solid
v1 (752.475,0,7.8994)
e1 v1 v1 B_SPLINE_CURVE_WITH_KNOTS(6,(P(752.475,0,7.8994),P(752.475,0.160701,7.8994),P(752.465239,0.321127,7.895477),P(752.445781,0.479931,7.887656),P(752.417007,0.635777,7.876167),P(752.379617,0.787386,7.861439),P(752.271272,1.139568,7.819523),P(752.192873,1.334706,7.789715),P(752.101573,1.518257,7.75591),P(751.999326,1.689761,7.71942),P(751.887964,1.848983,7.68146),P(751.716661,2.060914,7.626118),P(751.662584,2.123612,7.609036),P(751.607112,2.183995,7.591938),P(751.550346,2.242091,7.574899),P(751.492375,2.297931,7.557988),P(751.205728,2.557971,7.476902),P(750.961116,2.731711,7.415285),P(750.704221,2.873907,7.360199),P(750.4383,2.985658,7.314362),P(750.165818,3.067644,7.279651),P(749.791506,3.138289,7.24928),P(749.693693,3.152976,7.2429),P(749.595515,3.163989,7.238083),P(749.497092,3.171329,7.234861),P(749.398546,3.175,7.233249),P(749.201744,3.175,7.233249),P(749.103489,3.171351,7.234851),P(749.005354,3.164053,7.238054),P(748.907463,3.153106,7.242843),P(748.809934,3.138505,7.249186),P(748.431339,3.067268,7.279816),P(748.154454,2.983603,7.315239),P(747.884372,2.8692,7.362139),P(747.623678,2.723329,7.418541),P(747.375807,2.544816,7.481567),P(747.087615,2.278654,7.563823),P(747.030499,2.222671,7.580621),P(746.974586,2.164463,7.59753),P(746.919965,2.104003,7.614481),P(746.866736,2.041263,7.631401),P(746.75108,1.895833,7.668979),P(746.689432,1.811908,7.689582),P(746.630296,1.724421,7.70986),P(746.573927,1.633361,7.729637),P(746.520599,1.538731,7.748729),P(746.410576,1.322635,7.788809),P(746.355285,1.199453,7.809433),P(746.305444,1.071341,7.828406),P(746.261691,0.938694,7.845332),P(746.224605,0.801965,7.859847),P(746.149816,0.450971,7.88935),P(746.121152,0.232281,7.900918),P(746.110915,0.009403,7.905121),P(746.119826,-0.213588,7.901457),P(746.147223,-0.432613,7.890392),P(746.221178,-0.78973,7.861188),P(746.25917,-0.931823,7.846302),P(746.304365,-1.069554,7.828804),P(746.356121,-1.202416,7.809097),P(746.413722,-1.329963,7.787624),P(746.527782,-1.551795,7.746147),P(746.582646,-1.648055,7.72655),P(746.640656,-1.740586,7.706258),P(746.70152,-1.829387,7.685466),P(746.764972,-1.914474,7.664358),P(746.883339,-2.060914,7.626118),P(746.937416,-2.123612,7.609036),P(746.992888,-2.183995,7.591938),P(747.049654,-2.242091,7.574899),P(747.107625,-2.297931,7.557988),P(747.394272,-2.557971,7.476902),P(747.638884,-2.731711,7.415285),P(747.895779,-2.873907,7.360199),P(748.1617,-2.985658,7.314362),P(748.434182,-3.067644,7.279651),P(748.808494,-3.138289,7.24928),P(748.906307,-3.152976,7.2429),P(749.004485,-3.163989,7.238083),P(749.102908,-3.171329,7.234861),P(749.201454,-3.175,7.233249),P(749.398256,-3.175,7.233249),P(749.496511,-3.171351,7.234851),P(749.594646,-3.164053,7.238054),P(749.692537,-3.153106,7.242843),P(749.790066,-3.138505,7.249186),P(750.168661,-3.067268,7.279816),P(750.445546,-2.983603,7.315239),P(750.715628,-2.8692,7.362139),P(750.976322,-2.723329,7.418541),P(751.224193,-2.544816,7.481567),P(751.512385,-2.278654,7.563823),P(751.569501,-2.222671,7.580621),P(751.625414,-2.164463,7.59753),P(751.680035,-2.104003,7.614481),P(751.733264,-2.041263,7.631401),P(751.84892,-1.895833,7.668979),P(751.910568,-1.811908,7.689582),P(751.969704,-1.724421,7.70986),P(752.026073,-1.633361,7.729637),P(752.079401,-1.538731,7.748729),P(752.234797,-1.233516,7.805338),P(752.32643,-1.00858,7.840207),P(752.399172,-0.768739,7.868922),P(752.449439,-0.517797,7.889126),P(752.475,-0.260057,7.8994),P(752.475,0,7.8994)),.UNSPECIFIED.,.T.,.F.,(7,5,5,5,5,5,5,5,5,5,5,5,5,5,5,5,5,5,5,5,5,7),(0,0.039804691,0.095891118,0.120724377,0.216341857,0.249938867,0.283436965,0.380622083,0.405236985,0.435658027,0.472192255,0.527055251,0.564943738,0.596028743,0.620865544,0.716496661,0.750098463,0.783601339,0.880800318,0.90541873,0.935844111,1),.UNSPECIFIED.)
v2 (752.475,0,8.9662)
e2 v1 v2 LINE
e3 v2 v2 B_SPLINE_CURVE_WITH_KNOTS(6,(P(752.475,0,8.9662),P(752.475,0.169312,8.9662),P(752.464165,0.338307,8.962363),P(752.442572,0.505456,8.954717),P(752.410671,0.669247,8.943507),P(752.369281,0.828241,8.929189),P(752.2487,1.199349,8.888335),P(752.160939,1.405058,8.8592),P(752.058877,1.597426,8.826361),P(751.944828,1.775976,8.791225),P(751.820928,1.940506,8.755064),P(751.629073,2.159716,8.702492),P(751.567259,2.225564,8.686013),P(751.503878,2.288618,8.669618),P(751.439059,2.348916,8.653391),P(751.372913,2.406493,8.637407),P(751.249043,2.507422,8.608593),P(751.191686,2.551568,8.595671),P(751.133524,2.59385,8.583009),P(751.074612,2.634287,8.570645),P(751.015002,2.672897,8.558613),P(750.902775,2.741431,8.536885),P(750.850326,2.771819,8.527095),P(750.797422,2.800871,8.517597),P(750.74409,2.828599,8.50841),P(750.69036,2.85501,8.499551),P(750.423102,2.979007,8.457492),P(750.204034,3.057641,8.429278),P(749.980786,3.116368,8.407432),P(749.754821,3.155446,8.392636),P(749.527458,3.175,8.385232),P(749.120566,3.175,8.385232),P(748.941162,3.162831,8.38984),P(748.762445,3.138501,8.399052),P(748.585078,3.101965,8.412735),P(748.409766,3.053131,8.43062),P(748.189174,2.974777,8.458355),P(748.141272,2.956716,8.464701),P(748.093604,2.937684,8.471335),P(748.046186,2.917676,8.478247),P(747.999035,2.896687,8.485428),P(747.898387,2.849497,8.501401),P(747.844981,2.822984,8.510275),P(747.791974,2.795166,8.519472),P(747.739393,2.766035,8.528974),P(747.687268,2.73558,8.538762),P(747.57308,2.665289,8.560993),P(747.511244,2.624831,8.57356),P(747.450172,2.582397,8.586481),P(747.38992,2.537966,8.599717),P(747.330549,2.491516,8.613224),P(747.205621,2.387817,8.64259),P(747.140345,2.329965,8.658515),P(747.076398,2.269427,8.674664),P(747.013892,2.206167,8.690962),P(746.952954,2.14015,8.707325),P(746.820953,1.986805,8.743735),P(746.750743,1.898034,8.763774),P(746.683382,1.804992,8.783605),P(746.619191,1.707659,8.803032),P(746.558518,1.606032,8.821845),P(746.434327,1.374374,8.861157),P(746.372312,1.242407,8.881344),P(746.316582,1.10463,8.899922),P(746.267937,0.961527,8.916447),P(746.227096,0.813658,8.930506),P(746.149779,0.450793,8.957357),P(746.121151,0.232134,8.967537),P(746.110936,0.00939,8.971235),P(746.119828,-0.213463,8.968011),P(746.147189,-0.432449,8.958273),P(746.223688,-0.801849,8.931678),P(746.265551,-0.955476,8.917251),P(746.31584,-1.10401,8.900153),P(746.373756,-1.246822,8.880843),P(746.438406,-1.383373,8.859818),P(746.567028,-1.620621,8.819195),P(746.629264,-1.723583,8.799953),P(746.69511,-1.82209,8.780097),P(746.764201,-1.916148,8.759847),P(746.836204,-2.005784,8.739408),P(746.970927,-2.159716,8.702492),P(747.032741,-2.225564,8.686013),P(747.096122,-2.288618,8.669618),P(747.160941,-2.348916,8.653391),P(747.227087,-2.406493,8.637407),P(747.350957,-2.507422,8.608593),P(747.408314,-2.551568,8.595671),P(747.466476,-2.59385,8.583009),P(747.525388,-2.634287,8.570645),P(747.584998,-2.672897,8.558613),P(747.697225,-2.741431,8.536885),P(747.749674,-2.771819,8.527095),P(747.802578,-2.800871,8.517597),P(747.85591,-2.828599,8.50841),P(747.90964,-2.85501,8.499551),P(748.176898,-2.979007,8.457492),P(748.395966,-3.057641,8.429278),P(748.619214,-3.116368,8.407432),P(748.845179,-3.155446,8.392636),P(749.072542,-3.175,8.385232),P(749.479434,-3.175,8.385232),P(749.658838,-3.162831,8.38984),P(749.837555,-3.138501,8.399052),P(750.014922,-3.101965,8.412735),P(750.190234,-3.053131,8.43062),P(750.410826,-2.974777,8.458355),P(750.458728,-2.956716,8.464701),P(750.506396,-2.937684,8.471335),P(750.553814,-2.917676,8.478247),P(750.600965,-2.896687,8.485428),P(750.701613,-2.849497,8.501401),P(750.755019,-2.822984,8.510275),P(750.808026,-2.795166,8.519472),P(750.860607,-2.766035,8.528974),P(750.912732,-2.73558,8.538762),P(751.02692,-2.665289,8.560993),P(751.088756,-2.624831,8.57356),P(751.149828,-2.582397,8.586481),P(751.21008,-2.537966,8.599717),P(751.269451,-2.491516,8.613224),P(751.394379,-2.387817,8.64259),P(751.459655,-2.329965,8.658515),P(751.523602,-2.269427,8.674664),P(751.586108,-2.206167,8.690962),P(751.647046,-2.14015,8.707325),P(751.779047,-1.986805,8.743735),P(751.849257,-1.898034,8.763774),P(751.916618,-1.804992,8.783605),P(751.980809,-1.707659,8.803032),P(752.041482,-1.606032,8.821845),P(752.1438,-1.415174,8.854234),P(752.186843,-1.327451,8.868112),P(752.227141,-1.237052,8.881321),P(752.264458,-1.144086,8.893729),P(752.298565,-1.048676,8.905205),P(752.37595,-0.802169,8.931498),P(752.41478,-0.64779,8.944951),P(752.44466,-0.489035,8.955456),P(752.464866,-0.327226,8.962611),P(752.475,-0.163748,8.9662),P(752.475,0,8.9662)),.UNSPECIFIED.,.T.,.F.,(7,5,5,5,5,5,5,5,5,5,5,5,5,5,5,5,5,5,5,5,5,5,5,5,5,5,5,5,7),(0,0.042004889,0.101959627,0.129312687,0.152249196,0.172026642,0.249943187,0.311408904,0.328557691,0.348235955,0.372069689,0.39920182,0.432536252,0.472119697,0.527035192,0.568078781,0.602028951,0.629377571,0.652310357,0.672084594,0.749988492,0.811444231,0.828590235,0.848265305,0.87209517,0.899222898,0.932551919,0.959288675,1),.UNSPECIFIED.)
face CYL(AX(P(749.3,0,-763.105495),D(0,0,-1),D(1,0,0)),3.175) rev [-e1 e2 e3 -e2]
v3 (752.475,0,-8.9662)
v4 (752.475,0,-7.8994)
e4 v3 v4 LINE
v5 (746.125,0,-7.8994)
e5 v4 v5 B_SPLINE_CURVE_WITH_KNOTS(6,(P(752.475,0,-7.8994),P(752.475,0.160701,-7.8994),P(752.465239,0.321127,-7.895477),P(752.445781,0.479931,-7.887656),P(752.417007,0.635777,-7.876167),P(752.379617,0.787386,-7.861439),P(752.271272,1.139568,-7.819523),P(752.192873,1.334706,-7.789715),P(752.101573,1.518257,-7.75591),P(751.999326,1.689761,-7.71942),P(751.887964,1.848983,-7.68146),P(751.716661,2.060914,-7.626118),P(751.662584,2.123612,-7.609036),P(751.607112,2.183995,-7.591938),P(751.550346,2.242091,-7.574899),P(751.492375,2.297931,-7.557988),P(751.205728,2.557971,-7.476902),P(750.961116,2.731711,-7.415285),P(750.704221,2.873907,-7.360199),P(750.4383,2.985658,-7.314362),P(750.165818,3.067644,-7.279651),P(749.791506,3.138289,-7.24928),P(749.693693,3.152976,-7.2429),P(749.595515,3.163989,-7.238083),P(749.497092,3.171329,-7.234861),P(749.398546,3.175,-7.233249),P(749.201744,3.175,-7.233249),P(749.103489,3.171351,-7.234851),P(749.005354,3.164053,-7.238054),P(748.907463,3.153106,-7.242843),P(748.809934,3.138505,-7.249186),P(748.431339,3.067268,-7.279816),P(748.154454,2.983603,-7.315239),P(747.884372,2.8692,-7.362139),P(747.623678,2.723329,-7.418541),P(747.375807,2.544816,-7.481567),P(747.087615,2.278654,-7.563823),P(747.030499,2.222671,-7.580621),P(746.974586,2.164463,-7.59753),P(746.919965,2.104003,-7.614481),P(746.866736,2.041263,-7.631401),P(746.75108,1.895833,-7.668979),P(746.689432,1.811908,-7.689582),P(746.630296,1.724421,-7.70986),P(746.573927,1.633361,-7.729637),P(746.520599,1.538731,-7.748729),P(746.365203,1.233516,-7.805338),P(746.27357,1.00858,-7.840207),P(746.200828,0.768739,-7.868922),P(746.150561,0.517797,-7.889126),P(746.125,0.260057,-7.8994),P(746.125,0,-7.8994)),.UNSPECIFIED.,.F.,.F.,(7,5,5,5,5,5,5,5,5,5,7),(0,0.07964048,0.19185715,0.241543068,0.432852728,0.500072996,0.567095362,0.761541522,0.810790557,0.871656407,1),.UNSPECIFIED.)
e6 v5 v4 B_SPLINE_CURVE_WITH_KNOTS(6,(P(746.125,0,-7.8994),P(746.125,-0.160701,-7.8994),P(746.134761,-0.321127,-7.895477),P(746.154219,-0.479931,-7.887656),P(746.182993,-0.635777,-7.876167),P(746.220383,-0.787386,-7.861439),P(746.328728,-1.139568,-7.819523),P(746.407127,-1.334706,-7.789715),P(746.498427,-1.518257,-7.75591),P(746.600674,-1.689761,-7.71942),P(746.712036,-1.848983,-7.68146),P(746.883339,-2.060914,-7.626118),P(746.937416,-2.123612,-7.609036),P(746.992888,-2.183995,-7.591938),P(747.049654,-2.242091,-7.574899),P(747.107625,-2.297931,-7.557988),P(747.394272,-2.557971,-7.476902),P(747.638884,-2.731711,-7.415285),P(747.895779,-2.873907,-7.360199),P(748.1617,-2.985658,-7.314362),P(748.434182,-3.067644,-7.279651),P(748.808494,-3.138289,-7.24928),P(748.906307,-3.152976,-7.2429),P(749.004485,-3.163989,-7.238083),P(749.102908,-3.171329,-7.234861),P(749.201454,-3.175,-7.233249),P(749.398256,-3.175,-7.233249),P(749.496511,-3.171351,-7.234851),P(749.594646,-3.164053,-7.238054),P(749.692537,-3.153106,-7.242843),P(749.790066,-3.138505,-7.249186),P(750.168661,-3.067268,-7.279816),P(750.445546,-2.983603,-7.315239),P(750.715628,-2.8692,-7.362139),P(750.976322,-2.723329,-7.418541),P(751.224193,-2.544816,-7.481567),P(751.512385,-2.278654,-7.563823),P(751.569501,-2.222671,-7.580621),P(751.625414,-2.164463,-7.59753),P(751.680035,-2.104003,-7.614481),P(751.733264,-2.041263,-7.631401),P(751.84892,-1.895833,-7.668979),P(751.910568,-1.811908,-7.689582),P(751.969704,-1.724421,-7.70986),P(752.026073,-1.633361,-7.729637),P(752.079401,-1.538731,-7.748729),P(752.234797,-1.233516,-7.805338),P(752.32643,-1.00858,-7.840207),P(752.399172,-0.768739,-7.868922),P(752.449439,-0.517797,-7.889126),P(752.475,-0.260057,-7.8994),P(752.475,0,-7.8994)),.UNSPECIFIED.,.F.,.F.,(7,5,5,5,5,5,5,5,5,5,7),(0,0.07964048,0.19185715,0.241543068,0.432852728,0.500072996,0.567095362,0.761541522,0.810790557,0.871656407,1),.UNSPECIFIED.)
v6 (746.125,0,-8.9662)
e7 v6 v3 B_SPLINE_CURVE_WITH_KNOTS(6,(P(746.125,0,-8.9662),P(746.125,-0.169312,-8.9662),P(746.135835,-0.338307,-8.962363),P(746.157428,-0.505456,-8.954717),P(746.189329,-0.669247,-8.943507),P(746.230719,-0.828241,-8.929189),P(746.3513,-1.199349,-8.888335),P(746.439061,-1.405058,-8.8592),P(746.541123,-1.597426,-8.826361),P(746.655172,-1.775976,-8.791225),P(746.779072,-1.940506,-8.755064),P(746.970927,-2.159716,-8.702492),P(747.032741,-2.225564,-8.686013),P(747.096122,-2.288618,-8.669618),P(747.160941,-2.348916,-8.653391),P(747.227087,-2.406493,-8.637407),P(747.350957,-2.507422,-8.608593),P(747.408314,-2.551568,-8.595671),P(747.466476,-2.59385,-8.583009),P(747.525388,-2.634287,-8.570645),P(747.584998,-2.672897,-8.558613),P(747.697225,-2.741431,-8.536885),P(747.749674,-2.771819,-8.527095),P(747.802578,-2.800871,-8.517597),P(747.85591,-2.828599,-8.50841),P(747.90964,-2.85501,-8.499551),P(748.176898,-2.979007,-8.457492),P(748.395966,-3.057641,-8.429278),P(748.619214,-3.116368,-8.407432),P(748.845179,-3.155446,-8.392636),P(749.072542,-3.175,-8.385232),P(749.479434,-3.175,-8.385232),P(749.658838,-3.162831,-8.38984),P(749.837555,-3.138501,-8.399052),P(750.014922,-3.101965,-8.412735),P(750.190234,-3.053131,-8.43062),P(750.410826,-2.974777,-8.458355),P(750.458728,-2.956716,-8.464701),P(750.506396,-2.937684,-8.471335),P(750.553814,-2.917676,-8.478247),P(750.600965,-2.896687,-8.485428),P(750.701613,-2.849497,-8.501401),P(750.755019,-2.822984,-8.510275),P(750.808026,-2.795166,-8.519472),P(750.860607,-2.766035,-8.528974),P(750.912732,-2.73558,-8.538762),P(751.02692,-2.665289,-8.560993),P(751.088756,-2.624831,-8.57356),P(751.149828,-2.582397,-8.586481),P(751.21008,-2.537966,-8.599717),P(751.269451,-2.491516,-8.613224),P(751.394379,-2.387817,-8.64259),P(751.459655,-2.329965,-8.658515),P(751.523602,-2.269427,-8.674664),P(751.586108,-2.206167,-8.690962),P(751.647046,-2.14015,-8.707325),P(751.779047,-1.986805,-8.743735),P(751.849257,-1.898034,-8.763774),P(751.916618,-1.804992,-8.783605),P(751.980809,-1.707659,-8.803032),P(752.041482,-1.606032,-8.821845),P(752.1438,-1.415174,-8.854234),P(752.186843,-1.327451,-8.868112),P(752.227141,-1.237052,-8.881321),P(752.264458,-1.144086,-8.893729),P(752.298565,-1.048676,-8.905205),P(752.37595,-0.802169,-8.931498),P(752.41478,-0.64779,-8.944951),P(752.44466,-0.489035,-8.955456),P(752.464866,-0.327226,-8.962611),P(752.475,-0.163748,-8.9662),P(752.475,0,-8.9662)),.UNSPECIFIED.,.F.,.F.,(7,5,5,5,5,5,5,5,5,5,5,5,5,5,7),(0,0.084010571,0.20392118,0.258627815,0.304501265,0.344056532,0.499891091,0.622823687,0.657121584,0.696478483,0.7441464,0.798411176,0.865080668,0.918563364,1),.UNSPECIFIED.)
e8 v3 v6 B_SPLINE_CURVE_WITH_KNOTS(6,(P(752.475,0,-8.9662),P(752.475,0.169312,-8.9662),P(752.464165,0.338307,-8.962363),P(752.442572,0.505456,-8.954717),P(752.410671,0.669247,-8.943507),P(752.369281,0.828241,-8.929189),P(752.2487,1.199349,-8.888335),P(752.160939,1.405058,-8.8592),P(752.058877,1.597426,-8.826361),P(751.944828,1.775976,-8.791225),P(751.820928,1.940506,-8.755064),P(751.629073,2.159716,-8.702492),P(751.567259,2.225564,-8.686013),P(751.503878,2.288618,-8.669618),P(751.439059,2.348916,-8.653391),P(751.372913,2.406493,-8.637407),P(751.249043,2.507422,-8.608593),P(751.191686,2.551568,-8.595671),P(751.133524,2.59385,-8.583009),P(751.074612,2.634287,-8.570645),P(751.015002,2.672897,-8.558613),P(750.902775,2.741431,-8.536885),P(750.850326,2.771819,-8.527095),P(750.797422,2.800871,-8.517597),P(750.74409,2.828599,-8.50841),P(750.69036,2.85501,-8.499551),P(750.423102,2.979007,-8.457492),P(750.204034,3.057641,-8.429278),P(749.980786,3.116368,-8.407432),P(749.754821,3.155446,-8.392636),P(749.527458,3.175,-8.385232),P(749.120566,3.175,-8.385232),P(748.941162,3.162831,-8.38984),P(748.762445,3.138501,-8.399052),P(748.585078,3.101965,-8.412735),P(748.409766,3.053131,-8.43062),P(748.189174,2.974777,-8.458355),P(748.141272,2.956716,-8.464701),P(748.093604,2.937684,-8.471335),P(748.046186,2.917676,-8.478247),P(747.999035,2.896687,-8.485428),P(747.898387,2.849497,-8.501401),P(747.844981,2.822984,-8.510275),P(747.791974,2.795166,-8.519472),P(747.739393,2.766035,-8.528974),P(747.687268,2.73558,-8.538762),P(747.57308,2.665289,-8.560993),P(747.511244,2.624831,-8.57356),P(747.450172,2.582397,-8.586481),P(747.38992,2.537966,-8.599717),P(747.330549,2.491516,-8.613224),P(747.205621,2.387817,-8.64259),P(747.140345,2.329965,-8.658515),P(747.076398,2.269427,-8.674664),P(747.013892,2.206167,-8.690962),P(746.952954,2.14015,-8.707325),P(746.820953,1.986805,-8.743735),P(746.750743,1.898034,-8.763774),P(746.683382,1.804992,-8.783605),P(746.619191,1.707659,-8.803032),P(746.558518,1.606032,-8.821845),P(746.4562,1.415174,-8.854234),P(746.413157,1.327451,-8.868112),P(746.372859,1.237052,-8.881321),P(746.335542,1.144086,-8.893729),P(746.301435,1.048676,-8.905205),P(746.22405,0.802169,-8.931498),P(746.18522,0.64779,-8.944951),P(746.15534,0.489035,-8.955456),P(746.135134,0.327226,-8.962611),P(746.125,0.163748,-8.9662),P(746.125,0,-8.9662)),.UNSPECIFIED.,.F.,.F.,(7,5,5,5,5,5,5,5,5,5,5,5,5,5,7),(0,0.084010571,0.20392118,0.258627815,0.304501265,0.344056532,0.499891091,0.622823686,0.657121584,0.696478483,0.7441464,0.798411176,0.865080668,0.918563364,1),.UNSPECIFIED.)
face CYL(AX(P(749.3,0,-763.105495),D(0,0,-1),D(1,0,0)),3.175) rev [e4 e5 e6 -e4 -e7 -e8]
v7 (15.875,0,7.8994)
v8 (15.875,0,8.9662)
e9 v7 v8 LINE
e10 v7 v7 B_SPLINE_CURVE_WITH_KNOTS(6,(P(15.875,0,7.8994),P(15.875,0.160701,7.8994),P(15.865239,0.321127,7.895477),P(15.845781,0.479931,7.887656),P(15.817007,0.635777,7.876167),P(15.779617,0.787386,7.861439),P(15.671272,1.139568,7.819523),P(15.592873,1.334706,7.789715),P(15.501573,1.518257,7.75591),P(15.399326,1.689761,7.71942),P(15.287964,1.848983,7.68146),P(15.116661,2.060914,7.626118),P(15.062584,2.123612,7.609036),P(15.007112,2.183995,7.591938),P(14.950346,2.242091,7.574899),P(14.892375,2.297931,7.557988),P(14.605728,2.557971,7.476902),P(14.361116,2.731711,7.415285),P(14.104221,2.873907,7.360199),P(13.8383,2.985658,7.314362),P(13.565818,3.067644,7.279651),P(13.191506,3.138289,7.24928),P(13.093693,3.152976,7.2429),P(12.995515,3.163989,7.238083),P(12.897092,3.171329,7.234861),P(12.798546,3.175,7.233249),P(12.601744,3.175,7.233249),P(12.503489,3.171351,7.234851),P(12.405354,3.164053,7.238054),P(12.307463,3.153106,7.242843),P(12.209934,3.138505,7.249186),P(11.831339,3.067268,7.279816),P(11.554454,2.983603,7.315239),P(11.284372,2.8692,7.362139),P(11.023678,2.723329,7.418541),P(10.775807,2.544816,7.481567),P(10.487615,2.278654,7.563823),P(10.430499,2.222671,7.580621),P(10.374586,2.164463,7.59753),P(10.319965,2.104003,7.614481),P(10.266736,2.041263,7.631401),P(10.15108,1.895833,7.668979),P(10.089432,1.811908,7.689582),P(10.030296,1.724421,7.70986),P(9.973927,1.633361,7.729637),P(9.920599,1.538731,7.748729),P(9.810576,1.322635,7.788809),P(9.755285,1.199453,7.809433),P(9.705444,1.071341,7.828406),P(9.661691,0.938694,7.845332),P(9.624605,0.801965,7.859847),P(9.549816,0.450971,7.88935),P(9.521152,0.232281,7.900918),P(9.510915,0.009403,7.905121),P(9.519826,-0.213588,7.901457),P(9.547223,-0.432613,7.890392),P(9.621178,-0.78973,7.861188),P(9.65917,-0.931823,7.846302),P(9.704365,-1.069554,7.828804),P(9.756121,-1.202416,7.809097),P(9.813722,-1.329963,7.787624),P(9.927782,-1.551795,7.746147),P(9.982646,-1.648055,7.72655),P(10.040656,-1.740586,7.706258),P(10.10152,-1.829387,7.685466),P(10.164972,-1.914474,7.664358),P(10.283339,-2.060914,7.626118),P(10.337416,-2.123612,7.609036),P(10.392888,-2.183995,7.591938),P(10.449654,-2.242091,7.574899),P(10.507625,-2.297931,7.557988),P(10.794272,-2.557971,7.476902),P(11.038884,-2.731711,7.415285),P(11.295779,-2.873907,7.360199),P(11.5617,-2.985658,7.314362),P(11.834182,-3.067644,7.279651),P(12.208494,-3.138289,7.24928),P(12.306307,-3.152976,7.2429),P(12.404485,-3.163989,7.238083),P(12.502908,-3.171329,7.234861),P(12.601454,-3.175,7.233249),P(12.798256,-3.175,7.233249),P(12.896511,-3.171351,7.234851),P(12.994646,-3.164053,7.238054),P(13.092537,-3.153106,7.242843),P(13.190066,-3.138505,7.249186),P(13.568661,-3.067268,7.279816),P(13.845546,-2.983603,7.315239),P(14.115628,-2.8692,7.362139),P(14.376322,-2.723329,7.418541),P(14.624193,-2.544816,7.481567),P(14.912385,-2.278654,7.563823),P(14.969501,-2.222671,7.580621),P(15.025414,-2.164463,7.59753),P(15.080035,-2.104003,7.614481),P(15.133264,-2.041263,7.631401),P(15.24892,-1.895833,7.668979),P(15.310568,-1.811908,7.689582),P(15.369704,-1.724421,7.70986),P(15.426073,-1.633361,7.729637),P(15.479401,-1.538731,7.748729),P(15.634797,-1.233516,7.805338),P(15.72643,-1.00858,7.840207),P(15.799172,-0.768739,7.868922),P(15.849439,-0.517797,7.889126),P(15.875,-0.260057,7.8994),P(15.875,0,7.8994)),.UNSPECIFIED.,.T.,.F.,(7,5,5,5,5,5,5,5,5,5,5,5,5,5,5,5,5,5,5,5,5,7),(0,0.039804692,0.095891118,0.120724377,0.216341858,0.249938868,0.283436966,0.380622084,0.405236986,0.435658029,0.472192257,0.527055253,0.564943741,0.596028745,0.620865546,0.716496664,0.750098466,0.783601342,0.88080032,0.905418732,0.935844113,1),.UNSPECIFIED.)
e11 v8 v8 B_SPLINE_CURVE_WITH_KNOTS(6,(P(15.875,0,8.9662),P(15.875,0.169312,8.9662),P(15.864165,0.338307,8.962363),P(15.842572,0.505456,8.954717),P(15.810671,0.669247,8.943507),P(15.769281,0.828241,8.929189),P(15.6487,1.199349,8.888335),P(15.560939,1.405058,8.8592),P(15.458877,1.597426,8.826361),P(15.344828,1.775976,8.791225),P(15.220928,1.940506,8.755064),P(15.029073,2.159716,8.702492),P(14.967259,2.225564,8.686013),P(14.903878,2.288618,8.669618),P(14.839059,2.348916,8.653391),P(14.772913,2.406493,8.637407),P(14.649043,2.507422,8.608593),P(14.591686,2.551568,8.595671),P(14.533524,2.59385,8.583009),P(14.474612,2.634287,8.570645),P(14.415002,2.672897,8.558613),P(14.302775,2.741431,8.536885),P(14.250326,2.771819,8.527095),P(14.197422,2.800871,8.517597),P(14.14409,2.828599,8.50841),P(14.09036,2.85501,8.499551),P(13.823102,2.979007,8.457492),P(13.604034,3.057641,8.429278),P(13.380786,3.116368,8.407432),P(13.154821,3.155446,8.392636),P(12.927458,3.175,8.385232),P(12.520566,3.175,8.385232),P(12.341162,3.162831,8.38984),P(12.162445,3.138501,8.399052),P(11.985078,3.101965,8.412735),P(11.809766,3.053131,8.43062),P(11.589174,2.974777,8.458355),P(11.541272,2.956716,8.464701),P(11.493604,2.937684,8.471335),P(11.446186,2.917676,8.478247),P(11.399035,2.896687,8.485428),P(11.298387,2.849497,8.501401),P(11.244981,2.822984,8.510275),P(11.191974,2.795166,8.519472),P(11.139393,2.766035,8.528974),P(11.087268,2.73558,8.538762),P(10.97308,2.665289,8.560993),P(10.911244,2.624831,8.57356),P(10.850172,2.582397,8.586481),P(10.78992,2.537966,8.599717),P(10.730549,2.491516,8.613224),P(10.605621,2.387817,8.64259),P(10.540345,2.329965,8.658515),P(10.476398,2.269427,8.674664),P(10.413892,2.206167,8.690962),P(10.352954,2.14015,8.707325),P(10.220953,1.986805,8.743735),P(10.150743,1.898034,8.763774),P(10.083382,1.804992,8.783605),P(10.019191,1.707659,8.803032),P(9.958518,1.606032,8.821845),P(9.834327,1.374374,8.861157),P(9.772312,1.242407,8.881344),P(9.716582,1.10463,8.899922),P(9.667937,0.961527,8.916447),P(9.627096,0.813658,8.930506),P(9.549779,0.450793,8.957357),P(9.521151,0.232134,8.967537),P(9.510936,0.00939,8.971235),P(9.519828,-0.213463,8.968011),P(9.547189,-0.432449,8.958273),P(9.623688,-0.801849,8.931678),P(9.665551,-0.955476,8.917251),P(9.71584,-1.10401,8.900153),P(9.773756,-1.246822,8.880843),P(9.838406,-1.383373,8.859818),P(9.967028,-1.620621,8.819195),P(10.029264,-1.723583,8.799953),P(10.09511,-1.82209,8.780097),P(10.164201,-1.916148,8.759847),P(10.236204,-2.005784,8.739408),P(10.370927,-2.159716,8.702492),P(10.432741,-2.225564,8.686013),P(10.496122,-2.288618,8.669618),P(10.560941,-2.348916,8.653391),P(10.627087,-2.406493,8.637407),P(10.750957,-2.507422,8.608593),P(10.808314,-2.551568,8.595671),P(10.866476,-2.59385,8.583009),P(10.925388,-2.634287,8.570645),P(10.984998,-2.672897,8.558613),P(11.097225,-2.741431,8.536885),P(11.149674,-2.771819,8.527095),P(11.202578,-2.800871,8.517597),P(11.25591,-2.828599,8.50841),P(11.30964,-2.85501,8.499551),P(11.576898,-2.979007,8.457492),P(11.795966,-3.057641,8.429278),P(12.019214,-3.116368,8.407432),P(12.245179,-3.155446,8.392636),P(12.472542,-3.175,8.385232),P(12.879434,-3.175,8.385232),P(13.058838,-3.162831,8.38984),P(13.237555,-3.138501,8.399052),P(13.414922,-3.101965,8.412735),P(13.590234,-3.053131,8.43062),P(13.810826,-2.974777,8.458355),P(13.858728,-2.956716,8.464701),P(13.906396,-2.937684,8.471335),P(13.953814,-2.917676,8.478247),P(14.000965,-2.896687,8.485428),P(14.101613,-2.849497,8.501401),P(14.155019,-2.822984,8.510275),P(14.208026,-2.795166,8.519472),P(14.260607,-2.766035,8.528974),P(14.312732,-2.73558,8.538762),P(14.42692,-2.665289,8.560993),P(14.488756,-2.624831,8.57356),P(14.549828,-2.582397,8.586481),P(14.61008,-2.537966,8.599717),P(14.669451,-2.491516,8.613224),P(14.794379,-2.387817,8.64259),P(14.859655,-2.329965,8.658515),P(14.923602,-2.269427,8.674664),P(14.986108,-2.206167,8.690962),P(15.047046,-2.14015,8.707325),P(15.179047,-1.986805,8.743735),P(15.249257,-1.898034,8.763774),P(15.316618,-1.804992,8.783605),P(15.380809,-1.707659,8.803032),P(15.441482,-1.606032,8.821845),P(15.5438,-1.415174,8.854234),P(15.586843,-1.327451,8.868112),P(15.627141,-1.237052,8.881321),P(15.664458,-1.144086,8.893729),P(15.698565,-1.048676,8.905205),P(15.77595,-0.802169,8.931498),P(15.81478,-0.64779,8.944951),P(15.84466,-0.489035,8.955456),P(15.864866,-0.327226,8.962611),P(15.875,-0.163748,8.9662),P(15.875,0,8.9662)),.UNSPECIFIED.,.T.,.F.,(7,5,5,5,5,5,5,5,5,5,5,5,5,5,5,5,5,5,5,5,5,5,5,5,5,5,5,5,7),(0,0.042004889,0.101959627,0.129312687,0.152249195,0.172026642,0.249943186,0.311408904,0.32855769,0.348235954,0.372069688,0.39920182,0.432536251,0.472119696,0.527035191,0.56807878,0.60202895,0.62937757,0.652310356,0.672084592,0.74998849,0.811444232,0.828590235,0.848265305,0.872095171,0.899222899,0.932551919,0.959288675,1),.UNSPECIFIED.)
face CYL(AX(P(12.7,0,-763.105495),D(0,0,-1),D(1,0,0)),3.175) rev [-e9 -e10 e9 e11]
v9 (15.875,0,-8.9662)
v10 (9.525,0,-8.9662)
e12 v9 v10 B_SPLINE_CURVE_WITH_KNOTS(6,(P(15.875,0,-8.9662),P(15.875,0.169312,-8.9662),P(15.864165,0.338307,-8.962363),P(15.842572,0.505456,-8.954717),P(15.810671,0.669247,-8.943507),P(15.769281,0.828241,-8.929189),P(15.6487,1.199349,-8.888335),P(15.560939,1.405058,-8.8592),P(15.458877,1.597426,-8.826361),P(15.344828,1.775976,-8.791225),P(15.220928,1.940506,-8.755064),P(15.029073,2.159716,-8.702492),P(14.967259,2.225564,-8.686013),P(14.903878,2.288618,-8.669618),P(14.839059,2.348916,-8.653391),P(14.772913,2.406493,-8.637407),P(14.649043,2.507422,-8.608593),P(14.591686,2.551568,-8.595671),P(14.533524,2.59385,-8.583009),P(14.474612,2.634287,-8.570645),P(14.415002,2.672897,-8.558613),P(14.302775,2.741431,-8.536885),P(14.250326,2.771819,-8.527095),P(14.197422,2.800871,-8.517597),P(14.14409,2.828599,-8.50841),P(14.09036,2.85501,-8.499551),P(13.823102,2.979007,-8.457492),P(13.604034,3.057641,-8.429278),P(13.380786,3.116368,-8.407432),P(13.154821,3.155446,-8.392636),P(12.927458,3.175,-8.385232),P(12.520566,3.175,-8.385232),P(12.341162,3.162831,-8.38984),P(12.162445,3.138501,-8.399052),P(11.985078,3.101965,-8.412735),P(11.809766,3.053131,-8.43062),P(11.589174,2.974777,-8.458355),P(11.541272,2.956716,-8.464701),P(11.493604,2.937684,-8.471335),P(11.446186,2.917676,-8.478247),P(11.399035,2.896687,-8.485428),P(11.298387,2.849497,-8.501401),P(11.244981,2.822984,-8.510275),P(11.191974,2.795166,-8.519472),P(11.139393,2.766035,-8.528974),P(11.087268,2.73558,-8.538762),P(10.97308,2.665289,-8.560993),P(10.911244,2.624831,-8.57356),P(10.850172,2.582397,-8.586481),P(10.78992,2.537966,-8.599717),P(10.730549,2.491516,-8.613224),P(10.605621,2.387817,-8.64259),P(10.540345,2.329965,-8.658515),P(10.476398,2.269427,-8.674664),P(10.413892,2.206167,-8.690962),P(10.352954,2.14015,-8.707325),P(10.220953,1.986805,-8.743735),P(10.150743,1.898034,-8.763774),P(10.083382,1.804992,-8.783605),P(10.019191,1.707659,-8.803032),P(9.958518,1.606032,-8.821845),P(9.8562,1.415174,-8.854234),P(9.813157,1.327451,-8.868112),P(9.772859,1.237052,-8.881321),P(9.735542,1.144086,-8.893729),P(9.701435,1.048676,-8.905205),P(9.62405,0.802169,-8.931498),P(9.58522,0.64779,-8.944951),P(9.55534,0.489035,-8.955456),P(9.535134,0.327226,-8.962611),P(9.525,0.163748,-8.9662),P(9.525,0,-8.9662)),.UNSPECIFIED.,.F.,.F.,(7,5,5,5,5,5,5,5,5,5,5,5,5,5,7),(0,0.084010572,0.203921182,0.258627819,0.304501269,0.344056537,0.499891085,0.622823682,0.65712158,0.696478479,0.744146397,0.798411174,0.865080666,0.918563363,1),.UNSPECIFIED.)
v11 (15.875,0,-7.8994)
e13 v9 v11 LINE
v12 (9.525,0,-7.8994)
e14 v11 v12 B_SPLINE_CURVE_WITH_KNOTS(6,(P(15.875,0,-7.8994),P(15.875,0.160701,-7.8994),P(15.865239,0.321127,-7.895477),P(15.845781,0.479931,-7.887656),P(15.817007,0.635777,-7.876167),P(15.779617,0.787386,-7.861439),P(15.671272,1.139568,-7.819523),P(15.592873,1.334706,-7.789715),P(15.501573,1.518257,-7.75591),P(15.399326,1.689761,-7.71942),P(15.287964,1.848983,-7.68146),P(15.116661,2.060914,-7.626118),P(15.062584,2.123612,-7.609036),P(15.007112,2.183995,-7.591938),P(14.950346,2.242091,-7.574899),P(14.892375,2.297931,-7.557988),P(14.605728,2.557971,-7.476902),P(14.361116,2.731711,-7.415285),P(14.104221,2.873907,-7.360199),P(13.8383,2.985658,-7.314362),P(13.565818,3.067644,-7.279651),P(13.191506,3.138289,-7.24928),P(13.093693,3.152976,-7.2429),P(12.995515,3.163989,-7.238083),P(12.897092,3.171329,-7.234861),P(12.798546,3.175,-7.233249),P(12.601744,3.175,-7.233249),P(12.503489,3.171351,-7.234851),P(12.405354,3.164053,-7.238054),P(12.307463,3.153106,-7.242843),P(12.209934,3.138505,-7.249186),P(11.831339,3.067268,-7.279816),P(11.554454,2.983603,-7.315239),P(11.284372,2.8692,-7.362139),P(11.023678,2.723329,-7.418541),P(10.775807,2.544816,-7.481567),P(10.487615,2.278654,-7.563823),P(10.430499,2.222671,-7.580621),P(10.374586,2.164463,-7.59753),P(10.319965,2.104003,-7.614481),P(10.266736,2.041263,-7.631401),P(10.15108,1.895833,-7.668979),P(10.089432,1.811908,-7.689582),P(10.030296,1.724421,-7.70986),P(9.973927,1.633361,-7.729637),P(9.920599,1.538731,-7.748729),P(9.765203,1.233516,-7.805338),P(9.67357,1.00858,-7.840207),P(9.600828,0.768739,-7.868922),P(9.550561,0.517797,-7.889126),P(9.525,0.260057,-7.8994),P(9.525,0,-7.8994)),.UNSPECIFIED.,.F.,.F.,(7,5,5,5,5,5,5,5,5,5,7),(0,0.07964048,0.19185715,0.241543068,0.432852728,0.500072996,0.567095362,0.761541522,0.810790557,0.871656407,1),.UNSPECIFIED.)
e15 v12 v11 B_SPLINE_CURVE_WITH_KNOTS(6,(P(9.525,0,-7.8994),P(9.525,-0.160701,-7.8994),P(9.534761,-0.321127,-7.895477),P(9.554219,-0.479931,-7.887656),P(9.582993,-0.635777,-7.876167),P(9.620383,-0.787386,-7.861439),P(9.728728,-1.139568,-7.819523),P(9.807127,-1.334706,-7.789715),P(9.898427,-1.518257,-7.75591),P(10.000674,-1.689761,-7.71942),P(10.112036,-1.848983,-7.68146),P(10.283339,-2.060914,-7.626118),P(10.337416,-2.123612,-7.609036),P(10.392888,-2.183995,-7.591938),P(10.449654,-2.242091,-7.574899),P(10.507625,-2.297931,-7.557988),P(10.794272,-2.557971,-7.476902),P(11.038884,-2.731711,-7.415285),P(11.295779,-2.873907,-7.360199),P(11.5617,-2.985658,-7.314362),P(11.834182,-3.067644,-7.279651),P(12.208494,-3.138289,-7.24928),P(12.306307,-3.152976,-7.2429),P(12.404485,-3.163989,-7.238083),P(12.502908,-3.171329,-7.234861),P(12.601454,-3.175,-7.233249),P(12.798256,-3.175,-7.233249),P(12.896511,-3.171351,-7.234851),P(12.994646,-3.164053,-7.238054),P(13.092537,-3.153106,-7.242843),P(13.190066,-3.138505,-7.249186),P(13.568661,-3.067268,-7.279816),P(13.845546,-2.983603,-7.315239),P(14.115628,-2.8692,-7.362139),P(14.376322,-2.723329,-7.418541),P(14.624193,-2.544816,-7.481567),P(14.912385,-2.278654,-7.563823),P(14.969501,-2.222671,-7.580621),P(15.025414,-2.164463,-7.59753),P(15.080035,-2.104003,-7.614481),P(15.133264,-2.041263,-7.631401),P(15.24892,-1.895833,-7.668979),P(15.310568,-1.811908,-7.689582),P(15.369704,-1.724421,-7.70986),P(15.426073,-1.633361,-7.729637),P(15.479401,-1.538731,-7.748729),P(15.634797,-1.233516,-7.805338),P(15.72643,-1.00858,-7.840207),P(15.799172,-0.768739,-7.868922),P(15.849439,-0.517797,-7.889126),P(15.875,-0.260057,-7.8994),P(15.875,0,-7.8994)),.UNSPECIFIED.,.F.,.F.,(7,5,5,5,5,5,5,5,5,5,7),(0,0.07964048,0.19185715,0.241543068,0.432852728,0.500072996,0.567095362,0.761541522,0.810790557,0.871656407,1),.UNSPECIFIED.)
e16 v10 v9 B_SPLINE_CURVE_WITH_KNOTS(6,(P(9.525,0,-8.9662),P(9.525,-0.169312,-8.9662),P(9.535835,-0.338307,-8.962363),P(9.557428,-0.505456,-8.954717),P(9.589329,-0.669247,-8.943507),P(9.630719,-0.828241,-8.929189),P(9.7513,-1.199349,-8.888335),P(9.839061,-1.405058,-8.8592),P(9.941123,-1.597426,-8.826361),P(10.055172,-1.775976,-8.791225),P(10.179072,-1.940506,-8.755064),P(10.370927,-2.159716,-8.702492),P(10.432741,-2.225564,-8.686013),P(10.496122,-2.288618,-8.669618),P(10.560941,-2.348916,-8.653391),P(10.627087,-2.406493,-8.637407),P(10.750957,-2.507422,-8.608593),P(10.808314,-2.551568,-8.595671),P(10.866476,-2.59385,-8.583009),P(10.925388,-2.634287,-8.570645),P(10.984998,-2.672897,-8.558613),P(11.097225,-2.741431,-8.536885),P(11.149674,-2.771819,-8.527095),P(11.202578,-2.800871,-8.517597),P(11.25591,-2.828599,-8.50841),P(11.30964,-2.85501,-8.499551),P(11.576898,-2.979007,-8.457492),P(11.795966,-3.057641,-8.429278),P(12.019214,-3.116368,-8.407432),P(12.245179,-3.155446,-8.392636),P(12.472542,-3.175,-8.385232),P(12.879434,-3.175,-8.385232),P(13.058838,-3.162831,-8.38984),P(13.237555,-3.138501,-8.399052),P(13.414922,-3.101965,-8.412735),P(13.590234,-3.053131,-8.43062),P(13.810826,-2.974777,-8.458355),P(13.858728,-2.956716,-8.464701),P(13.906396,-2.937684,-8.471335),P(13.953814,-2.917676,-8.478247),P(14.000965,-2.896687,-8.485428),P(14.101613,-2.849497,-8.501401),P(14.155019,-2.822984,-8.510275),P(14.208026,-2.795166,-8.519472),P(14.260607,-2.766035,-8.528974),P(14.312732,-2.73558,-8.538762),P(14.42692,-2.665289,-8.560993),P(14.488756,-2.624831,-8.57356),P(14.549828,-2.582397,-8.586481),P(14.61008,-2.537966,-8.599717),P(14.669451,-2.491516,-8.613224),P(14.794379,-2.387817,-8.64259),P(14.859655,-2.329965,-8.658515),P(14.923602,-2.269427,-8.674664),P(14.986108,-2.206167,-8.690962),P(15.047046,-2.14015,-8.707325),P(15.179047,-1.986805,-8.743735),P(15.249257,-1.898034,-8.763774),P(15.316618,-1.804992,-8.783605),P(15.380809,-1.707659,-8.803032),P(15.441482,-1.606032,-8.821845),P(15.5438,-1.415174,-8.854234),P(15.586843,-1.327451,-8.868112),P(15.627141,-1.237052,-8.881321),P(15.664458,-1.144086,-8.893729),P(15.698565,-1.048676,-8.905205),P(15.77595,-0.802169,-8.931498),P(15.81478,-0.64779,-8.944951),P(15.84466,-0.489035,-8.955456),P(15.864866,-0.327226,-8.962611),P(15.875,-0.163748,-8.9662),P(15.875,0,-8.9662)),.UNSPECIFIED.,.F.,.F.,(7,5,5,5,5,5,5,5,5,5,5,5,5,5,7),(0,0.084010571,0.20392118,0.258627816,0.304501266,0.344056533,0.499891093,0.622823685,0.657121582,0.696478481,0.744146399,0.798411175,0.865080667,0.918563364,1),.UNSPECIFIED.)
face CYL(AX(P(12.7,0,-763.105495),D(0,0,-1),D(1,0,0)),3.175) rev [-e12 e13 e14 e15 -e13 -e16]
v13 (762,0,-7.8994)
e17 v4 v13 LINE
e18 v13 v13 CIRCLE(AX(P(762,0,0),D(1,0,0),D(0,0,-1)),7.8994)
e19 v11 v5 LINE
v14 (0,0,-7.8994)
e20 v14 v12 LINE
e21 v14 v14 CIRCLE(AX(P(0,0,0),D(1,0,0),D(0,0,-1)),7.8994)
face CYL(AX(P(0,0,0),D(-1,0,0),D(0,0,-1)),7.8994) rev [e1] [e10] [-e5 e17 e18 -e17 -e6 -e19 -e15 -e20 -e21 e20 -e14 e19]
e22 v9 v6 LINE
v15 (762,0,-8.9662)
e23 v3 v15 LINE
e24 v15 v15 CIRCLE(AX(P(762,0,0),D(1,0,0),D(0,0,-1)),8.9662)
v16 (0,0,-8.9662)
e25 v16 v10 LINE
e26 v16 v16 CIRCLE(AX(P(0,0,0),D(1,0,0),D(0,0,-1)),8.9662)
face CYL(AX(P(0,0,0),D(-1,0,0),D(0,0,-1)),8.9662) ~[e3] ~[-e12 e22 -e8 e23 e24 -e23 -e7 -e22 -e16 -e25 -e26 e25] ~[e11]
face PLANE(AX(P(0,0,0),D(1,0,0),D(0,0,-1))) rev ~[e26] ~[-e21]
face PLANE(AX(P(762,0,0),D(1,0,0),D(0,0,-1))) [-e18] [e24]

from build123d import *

# Parameters (mm, degrees)
SKETCH1_R               = 8.9662
SKETCH1_R_2             = 7.8994
BOSS_EXTRUDE1_DEPTH     = 762
CUT_EXTRUDE1_DEPTH      = 763.105494984
CUT_EXTRUDE1_DEPTH_BACK = 763.105494984
SKETCH2_R               = 3.175


with BuildPart() as part:
    # Sketch1 → Boss-Extrude1 (new body)
    with BuildSketch(Plane(origin=(0, 0, 0), x_dir=(0, 0, -1), z_dir=(1, 0, 0))):
        Circle(SKETCH1_R)
        Circle(SKETCH1_R_2, mode=Mode.SUBTRACT)
    extrude(amount=BOSS_EXTRUDE1_DEPTH)

    # Sketch2 → Cut-Extrude1 (cut, two sides: drawn at the far end of the back side and taken through both)
    with BuildSketch(Plane.XY.offset(-CUT_EXTRUDE1_DEPTH_BACK)):
        with Locations((749.3, 0)):
            Circle(SKETCH2_R)
        with Locations((12.7, 0)):
            Circle(SKETCH2_R)
    extrude(amount=CUT_EXTRUDE1_DEPTH + CUT_EXTRUDE1_DEPTH_BACK, mode=Mode.SUBTRACT)


solid = part.part
